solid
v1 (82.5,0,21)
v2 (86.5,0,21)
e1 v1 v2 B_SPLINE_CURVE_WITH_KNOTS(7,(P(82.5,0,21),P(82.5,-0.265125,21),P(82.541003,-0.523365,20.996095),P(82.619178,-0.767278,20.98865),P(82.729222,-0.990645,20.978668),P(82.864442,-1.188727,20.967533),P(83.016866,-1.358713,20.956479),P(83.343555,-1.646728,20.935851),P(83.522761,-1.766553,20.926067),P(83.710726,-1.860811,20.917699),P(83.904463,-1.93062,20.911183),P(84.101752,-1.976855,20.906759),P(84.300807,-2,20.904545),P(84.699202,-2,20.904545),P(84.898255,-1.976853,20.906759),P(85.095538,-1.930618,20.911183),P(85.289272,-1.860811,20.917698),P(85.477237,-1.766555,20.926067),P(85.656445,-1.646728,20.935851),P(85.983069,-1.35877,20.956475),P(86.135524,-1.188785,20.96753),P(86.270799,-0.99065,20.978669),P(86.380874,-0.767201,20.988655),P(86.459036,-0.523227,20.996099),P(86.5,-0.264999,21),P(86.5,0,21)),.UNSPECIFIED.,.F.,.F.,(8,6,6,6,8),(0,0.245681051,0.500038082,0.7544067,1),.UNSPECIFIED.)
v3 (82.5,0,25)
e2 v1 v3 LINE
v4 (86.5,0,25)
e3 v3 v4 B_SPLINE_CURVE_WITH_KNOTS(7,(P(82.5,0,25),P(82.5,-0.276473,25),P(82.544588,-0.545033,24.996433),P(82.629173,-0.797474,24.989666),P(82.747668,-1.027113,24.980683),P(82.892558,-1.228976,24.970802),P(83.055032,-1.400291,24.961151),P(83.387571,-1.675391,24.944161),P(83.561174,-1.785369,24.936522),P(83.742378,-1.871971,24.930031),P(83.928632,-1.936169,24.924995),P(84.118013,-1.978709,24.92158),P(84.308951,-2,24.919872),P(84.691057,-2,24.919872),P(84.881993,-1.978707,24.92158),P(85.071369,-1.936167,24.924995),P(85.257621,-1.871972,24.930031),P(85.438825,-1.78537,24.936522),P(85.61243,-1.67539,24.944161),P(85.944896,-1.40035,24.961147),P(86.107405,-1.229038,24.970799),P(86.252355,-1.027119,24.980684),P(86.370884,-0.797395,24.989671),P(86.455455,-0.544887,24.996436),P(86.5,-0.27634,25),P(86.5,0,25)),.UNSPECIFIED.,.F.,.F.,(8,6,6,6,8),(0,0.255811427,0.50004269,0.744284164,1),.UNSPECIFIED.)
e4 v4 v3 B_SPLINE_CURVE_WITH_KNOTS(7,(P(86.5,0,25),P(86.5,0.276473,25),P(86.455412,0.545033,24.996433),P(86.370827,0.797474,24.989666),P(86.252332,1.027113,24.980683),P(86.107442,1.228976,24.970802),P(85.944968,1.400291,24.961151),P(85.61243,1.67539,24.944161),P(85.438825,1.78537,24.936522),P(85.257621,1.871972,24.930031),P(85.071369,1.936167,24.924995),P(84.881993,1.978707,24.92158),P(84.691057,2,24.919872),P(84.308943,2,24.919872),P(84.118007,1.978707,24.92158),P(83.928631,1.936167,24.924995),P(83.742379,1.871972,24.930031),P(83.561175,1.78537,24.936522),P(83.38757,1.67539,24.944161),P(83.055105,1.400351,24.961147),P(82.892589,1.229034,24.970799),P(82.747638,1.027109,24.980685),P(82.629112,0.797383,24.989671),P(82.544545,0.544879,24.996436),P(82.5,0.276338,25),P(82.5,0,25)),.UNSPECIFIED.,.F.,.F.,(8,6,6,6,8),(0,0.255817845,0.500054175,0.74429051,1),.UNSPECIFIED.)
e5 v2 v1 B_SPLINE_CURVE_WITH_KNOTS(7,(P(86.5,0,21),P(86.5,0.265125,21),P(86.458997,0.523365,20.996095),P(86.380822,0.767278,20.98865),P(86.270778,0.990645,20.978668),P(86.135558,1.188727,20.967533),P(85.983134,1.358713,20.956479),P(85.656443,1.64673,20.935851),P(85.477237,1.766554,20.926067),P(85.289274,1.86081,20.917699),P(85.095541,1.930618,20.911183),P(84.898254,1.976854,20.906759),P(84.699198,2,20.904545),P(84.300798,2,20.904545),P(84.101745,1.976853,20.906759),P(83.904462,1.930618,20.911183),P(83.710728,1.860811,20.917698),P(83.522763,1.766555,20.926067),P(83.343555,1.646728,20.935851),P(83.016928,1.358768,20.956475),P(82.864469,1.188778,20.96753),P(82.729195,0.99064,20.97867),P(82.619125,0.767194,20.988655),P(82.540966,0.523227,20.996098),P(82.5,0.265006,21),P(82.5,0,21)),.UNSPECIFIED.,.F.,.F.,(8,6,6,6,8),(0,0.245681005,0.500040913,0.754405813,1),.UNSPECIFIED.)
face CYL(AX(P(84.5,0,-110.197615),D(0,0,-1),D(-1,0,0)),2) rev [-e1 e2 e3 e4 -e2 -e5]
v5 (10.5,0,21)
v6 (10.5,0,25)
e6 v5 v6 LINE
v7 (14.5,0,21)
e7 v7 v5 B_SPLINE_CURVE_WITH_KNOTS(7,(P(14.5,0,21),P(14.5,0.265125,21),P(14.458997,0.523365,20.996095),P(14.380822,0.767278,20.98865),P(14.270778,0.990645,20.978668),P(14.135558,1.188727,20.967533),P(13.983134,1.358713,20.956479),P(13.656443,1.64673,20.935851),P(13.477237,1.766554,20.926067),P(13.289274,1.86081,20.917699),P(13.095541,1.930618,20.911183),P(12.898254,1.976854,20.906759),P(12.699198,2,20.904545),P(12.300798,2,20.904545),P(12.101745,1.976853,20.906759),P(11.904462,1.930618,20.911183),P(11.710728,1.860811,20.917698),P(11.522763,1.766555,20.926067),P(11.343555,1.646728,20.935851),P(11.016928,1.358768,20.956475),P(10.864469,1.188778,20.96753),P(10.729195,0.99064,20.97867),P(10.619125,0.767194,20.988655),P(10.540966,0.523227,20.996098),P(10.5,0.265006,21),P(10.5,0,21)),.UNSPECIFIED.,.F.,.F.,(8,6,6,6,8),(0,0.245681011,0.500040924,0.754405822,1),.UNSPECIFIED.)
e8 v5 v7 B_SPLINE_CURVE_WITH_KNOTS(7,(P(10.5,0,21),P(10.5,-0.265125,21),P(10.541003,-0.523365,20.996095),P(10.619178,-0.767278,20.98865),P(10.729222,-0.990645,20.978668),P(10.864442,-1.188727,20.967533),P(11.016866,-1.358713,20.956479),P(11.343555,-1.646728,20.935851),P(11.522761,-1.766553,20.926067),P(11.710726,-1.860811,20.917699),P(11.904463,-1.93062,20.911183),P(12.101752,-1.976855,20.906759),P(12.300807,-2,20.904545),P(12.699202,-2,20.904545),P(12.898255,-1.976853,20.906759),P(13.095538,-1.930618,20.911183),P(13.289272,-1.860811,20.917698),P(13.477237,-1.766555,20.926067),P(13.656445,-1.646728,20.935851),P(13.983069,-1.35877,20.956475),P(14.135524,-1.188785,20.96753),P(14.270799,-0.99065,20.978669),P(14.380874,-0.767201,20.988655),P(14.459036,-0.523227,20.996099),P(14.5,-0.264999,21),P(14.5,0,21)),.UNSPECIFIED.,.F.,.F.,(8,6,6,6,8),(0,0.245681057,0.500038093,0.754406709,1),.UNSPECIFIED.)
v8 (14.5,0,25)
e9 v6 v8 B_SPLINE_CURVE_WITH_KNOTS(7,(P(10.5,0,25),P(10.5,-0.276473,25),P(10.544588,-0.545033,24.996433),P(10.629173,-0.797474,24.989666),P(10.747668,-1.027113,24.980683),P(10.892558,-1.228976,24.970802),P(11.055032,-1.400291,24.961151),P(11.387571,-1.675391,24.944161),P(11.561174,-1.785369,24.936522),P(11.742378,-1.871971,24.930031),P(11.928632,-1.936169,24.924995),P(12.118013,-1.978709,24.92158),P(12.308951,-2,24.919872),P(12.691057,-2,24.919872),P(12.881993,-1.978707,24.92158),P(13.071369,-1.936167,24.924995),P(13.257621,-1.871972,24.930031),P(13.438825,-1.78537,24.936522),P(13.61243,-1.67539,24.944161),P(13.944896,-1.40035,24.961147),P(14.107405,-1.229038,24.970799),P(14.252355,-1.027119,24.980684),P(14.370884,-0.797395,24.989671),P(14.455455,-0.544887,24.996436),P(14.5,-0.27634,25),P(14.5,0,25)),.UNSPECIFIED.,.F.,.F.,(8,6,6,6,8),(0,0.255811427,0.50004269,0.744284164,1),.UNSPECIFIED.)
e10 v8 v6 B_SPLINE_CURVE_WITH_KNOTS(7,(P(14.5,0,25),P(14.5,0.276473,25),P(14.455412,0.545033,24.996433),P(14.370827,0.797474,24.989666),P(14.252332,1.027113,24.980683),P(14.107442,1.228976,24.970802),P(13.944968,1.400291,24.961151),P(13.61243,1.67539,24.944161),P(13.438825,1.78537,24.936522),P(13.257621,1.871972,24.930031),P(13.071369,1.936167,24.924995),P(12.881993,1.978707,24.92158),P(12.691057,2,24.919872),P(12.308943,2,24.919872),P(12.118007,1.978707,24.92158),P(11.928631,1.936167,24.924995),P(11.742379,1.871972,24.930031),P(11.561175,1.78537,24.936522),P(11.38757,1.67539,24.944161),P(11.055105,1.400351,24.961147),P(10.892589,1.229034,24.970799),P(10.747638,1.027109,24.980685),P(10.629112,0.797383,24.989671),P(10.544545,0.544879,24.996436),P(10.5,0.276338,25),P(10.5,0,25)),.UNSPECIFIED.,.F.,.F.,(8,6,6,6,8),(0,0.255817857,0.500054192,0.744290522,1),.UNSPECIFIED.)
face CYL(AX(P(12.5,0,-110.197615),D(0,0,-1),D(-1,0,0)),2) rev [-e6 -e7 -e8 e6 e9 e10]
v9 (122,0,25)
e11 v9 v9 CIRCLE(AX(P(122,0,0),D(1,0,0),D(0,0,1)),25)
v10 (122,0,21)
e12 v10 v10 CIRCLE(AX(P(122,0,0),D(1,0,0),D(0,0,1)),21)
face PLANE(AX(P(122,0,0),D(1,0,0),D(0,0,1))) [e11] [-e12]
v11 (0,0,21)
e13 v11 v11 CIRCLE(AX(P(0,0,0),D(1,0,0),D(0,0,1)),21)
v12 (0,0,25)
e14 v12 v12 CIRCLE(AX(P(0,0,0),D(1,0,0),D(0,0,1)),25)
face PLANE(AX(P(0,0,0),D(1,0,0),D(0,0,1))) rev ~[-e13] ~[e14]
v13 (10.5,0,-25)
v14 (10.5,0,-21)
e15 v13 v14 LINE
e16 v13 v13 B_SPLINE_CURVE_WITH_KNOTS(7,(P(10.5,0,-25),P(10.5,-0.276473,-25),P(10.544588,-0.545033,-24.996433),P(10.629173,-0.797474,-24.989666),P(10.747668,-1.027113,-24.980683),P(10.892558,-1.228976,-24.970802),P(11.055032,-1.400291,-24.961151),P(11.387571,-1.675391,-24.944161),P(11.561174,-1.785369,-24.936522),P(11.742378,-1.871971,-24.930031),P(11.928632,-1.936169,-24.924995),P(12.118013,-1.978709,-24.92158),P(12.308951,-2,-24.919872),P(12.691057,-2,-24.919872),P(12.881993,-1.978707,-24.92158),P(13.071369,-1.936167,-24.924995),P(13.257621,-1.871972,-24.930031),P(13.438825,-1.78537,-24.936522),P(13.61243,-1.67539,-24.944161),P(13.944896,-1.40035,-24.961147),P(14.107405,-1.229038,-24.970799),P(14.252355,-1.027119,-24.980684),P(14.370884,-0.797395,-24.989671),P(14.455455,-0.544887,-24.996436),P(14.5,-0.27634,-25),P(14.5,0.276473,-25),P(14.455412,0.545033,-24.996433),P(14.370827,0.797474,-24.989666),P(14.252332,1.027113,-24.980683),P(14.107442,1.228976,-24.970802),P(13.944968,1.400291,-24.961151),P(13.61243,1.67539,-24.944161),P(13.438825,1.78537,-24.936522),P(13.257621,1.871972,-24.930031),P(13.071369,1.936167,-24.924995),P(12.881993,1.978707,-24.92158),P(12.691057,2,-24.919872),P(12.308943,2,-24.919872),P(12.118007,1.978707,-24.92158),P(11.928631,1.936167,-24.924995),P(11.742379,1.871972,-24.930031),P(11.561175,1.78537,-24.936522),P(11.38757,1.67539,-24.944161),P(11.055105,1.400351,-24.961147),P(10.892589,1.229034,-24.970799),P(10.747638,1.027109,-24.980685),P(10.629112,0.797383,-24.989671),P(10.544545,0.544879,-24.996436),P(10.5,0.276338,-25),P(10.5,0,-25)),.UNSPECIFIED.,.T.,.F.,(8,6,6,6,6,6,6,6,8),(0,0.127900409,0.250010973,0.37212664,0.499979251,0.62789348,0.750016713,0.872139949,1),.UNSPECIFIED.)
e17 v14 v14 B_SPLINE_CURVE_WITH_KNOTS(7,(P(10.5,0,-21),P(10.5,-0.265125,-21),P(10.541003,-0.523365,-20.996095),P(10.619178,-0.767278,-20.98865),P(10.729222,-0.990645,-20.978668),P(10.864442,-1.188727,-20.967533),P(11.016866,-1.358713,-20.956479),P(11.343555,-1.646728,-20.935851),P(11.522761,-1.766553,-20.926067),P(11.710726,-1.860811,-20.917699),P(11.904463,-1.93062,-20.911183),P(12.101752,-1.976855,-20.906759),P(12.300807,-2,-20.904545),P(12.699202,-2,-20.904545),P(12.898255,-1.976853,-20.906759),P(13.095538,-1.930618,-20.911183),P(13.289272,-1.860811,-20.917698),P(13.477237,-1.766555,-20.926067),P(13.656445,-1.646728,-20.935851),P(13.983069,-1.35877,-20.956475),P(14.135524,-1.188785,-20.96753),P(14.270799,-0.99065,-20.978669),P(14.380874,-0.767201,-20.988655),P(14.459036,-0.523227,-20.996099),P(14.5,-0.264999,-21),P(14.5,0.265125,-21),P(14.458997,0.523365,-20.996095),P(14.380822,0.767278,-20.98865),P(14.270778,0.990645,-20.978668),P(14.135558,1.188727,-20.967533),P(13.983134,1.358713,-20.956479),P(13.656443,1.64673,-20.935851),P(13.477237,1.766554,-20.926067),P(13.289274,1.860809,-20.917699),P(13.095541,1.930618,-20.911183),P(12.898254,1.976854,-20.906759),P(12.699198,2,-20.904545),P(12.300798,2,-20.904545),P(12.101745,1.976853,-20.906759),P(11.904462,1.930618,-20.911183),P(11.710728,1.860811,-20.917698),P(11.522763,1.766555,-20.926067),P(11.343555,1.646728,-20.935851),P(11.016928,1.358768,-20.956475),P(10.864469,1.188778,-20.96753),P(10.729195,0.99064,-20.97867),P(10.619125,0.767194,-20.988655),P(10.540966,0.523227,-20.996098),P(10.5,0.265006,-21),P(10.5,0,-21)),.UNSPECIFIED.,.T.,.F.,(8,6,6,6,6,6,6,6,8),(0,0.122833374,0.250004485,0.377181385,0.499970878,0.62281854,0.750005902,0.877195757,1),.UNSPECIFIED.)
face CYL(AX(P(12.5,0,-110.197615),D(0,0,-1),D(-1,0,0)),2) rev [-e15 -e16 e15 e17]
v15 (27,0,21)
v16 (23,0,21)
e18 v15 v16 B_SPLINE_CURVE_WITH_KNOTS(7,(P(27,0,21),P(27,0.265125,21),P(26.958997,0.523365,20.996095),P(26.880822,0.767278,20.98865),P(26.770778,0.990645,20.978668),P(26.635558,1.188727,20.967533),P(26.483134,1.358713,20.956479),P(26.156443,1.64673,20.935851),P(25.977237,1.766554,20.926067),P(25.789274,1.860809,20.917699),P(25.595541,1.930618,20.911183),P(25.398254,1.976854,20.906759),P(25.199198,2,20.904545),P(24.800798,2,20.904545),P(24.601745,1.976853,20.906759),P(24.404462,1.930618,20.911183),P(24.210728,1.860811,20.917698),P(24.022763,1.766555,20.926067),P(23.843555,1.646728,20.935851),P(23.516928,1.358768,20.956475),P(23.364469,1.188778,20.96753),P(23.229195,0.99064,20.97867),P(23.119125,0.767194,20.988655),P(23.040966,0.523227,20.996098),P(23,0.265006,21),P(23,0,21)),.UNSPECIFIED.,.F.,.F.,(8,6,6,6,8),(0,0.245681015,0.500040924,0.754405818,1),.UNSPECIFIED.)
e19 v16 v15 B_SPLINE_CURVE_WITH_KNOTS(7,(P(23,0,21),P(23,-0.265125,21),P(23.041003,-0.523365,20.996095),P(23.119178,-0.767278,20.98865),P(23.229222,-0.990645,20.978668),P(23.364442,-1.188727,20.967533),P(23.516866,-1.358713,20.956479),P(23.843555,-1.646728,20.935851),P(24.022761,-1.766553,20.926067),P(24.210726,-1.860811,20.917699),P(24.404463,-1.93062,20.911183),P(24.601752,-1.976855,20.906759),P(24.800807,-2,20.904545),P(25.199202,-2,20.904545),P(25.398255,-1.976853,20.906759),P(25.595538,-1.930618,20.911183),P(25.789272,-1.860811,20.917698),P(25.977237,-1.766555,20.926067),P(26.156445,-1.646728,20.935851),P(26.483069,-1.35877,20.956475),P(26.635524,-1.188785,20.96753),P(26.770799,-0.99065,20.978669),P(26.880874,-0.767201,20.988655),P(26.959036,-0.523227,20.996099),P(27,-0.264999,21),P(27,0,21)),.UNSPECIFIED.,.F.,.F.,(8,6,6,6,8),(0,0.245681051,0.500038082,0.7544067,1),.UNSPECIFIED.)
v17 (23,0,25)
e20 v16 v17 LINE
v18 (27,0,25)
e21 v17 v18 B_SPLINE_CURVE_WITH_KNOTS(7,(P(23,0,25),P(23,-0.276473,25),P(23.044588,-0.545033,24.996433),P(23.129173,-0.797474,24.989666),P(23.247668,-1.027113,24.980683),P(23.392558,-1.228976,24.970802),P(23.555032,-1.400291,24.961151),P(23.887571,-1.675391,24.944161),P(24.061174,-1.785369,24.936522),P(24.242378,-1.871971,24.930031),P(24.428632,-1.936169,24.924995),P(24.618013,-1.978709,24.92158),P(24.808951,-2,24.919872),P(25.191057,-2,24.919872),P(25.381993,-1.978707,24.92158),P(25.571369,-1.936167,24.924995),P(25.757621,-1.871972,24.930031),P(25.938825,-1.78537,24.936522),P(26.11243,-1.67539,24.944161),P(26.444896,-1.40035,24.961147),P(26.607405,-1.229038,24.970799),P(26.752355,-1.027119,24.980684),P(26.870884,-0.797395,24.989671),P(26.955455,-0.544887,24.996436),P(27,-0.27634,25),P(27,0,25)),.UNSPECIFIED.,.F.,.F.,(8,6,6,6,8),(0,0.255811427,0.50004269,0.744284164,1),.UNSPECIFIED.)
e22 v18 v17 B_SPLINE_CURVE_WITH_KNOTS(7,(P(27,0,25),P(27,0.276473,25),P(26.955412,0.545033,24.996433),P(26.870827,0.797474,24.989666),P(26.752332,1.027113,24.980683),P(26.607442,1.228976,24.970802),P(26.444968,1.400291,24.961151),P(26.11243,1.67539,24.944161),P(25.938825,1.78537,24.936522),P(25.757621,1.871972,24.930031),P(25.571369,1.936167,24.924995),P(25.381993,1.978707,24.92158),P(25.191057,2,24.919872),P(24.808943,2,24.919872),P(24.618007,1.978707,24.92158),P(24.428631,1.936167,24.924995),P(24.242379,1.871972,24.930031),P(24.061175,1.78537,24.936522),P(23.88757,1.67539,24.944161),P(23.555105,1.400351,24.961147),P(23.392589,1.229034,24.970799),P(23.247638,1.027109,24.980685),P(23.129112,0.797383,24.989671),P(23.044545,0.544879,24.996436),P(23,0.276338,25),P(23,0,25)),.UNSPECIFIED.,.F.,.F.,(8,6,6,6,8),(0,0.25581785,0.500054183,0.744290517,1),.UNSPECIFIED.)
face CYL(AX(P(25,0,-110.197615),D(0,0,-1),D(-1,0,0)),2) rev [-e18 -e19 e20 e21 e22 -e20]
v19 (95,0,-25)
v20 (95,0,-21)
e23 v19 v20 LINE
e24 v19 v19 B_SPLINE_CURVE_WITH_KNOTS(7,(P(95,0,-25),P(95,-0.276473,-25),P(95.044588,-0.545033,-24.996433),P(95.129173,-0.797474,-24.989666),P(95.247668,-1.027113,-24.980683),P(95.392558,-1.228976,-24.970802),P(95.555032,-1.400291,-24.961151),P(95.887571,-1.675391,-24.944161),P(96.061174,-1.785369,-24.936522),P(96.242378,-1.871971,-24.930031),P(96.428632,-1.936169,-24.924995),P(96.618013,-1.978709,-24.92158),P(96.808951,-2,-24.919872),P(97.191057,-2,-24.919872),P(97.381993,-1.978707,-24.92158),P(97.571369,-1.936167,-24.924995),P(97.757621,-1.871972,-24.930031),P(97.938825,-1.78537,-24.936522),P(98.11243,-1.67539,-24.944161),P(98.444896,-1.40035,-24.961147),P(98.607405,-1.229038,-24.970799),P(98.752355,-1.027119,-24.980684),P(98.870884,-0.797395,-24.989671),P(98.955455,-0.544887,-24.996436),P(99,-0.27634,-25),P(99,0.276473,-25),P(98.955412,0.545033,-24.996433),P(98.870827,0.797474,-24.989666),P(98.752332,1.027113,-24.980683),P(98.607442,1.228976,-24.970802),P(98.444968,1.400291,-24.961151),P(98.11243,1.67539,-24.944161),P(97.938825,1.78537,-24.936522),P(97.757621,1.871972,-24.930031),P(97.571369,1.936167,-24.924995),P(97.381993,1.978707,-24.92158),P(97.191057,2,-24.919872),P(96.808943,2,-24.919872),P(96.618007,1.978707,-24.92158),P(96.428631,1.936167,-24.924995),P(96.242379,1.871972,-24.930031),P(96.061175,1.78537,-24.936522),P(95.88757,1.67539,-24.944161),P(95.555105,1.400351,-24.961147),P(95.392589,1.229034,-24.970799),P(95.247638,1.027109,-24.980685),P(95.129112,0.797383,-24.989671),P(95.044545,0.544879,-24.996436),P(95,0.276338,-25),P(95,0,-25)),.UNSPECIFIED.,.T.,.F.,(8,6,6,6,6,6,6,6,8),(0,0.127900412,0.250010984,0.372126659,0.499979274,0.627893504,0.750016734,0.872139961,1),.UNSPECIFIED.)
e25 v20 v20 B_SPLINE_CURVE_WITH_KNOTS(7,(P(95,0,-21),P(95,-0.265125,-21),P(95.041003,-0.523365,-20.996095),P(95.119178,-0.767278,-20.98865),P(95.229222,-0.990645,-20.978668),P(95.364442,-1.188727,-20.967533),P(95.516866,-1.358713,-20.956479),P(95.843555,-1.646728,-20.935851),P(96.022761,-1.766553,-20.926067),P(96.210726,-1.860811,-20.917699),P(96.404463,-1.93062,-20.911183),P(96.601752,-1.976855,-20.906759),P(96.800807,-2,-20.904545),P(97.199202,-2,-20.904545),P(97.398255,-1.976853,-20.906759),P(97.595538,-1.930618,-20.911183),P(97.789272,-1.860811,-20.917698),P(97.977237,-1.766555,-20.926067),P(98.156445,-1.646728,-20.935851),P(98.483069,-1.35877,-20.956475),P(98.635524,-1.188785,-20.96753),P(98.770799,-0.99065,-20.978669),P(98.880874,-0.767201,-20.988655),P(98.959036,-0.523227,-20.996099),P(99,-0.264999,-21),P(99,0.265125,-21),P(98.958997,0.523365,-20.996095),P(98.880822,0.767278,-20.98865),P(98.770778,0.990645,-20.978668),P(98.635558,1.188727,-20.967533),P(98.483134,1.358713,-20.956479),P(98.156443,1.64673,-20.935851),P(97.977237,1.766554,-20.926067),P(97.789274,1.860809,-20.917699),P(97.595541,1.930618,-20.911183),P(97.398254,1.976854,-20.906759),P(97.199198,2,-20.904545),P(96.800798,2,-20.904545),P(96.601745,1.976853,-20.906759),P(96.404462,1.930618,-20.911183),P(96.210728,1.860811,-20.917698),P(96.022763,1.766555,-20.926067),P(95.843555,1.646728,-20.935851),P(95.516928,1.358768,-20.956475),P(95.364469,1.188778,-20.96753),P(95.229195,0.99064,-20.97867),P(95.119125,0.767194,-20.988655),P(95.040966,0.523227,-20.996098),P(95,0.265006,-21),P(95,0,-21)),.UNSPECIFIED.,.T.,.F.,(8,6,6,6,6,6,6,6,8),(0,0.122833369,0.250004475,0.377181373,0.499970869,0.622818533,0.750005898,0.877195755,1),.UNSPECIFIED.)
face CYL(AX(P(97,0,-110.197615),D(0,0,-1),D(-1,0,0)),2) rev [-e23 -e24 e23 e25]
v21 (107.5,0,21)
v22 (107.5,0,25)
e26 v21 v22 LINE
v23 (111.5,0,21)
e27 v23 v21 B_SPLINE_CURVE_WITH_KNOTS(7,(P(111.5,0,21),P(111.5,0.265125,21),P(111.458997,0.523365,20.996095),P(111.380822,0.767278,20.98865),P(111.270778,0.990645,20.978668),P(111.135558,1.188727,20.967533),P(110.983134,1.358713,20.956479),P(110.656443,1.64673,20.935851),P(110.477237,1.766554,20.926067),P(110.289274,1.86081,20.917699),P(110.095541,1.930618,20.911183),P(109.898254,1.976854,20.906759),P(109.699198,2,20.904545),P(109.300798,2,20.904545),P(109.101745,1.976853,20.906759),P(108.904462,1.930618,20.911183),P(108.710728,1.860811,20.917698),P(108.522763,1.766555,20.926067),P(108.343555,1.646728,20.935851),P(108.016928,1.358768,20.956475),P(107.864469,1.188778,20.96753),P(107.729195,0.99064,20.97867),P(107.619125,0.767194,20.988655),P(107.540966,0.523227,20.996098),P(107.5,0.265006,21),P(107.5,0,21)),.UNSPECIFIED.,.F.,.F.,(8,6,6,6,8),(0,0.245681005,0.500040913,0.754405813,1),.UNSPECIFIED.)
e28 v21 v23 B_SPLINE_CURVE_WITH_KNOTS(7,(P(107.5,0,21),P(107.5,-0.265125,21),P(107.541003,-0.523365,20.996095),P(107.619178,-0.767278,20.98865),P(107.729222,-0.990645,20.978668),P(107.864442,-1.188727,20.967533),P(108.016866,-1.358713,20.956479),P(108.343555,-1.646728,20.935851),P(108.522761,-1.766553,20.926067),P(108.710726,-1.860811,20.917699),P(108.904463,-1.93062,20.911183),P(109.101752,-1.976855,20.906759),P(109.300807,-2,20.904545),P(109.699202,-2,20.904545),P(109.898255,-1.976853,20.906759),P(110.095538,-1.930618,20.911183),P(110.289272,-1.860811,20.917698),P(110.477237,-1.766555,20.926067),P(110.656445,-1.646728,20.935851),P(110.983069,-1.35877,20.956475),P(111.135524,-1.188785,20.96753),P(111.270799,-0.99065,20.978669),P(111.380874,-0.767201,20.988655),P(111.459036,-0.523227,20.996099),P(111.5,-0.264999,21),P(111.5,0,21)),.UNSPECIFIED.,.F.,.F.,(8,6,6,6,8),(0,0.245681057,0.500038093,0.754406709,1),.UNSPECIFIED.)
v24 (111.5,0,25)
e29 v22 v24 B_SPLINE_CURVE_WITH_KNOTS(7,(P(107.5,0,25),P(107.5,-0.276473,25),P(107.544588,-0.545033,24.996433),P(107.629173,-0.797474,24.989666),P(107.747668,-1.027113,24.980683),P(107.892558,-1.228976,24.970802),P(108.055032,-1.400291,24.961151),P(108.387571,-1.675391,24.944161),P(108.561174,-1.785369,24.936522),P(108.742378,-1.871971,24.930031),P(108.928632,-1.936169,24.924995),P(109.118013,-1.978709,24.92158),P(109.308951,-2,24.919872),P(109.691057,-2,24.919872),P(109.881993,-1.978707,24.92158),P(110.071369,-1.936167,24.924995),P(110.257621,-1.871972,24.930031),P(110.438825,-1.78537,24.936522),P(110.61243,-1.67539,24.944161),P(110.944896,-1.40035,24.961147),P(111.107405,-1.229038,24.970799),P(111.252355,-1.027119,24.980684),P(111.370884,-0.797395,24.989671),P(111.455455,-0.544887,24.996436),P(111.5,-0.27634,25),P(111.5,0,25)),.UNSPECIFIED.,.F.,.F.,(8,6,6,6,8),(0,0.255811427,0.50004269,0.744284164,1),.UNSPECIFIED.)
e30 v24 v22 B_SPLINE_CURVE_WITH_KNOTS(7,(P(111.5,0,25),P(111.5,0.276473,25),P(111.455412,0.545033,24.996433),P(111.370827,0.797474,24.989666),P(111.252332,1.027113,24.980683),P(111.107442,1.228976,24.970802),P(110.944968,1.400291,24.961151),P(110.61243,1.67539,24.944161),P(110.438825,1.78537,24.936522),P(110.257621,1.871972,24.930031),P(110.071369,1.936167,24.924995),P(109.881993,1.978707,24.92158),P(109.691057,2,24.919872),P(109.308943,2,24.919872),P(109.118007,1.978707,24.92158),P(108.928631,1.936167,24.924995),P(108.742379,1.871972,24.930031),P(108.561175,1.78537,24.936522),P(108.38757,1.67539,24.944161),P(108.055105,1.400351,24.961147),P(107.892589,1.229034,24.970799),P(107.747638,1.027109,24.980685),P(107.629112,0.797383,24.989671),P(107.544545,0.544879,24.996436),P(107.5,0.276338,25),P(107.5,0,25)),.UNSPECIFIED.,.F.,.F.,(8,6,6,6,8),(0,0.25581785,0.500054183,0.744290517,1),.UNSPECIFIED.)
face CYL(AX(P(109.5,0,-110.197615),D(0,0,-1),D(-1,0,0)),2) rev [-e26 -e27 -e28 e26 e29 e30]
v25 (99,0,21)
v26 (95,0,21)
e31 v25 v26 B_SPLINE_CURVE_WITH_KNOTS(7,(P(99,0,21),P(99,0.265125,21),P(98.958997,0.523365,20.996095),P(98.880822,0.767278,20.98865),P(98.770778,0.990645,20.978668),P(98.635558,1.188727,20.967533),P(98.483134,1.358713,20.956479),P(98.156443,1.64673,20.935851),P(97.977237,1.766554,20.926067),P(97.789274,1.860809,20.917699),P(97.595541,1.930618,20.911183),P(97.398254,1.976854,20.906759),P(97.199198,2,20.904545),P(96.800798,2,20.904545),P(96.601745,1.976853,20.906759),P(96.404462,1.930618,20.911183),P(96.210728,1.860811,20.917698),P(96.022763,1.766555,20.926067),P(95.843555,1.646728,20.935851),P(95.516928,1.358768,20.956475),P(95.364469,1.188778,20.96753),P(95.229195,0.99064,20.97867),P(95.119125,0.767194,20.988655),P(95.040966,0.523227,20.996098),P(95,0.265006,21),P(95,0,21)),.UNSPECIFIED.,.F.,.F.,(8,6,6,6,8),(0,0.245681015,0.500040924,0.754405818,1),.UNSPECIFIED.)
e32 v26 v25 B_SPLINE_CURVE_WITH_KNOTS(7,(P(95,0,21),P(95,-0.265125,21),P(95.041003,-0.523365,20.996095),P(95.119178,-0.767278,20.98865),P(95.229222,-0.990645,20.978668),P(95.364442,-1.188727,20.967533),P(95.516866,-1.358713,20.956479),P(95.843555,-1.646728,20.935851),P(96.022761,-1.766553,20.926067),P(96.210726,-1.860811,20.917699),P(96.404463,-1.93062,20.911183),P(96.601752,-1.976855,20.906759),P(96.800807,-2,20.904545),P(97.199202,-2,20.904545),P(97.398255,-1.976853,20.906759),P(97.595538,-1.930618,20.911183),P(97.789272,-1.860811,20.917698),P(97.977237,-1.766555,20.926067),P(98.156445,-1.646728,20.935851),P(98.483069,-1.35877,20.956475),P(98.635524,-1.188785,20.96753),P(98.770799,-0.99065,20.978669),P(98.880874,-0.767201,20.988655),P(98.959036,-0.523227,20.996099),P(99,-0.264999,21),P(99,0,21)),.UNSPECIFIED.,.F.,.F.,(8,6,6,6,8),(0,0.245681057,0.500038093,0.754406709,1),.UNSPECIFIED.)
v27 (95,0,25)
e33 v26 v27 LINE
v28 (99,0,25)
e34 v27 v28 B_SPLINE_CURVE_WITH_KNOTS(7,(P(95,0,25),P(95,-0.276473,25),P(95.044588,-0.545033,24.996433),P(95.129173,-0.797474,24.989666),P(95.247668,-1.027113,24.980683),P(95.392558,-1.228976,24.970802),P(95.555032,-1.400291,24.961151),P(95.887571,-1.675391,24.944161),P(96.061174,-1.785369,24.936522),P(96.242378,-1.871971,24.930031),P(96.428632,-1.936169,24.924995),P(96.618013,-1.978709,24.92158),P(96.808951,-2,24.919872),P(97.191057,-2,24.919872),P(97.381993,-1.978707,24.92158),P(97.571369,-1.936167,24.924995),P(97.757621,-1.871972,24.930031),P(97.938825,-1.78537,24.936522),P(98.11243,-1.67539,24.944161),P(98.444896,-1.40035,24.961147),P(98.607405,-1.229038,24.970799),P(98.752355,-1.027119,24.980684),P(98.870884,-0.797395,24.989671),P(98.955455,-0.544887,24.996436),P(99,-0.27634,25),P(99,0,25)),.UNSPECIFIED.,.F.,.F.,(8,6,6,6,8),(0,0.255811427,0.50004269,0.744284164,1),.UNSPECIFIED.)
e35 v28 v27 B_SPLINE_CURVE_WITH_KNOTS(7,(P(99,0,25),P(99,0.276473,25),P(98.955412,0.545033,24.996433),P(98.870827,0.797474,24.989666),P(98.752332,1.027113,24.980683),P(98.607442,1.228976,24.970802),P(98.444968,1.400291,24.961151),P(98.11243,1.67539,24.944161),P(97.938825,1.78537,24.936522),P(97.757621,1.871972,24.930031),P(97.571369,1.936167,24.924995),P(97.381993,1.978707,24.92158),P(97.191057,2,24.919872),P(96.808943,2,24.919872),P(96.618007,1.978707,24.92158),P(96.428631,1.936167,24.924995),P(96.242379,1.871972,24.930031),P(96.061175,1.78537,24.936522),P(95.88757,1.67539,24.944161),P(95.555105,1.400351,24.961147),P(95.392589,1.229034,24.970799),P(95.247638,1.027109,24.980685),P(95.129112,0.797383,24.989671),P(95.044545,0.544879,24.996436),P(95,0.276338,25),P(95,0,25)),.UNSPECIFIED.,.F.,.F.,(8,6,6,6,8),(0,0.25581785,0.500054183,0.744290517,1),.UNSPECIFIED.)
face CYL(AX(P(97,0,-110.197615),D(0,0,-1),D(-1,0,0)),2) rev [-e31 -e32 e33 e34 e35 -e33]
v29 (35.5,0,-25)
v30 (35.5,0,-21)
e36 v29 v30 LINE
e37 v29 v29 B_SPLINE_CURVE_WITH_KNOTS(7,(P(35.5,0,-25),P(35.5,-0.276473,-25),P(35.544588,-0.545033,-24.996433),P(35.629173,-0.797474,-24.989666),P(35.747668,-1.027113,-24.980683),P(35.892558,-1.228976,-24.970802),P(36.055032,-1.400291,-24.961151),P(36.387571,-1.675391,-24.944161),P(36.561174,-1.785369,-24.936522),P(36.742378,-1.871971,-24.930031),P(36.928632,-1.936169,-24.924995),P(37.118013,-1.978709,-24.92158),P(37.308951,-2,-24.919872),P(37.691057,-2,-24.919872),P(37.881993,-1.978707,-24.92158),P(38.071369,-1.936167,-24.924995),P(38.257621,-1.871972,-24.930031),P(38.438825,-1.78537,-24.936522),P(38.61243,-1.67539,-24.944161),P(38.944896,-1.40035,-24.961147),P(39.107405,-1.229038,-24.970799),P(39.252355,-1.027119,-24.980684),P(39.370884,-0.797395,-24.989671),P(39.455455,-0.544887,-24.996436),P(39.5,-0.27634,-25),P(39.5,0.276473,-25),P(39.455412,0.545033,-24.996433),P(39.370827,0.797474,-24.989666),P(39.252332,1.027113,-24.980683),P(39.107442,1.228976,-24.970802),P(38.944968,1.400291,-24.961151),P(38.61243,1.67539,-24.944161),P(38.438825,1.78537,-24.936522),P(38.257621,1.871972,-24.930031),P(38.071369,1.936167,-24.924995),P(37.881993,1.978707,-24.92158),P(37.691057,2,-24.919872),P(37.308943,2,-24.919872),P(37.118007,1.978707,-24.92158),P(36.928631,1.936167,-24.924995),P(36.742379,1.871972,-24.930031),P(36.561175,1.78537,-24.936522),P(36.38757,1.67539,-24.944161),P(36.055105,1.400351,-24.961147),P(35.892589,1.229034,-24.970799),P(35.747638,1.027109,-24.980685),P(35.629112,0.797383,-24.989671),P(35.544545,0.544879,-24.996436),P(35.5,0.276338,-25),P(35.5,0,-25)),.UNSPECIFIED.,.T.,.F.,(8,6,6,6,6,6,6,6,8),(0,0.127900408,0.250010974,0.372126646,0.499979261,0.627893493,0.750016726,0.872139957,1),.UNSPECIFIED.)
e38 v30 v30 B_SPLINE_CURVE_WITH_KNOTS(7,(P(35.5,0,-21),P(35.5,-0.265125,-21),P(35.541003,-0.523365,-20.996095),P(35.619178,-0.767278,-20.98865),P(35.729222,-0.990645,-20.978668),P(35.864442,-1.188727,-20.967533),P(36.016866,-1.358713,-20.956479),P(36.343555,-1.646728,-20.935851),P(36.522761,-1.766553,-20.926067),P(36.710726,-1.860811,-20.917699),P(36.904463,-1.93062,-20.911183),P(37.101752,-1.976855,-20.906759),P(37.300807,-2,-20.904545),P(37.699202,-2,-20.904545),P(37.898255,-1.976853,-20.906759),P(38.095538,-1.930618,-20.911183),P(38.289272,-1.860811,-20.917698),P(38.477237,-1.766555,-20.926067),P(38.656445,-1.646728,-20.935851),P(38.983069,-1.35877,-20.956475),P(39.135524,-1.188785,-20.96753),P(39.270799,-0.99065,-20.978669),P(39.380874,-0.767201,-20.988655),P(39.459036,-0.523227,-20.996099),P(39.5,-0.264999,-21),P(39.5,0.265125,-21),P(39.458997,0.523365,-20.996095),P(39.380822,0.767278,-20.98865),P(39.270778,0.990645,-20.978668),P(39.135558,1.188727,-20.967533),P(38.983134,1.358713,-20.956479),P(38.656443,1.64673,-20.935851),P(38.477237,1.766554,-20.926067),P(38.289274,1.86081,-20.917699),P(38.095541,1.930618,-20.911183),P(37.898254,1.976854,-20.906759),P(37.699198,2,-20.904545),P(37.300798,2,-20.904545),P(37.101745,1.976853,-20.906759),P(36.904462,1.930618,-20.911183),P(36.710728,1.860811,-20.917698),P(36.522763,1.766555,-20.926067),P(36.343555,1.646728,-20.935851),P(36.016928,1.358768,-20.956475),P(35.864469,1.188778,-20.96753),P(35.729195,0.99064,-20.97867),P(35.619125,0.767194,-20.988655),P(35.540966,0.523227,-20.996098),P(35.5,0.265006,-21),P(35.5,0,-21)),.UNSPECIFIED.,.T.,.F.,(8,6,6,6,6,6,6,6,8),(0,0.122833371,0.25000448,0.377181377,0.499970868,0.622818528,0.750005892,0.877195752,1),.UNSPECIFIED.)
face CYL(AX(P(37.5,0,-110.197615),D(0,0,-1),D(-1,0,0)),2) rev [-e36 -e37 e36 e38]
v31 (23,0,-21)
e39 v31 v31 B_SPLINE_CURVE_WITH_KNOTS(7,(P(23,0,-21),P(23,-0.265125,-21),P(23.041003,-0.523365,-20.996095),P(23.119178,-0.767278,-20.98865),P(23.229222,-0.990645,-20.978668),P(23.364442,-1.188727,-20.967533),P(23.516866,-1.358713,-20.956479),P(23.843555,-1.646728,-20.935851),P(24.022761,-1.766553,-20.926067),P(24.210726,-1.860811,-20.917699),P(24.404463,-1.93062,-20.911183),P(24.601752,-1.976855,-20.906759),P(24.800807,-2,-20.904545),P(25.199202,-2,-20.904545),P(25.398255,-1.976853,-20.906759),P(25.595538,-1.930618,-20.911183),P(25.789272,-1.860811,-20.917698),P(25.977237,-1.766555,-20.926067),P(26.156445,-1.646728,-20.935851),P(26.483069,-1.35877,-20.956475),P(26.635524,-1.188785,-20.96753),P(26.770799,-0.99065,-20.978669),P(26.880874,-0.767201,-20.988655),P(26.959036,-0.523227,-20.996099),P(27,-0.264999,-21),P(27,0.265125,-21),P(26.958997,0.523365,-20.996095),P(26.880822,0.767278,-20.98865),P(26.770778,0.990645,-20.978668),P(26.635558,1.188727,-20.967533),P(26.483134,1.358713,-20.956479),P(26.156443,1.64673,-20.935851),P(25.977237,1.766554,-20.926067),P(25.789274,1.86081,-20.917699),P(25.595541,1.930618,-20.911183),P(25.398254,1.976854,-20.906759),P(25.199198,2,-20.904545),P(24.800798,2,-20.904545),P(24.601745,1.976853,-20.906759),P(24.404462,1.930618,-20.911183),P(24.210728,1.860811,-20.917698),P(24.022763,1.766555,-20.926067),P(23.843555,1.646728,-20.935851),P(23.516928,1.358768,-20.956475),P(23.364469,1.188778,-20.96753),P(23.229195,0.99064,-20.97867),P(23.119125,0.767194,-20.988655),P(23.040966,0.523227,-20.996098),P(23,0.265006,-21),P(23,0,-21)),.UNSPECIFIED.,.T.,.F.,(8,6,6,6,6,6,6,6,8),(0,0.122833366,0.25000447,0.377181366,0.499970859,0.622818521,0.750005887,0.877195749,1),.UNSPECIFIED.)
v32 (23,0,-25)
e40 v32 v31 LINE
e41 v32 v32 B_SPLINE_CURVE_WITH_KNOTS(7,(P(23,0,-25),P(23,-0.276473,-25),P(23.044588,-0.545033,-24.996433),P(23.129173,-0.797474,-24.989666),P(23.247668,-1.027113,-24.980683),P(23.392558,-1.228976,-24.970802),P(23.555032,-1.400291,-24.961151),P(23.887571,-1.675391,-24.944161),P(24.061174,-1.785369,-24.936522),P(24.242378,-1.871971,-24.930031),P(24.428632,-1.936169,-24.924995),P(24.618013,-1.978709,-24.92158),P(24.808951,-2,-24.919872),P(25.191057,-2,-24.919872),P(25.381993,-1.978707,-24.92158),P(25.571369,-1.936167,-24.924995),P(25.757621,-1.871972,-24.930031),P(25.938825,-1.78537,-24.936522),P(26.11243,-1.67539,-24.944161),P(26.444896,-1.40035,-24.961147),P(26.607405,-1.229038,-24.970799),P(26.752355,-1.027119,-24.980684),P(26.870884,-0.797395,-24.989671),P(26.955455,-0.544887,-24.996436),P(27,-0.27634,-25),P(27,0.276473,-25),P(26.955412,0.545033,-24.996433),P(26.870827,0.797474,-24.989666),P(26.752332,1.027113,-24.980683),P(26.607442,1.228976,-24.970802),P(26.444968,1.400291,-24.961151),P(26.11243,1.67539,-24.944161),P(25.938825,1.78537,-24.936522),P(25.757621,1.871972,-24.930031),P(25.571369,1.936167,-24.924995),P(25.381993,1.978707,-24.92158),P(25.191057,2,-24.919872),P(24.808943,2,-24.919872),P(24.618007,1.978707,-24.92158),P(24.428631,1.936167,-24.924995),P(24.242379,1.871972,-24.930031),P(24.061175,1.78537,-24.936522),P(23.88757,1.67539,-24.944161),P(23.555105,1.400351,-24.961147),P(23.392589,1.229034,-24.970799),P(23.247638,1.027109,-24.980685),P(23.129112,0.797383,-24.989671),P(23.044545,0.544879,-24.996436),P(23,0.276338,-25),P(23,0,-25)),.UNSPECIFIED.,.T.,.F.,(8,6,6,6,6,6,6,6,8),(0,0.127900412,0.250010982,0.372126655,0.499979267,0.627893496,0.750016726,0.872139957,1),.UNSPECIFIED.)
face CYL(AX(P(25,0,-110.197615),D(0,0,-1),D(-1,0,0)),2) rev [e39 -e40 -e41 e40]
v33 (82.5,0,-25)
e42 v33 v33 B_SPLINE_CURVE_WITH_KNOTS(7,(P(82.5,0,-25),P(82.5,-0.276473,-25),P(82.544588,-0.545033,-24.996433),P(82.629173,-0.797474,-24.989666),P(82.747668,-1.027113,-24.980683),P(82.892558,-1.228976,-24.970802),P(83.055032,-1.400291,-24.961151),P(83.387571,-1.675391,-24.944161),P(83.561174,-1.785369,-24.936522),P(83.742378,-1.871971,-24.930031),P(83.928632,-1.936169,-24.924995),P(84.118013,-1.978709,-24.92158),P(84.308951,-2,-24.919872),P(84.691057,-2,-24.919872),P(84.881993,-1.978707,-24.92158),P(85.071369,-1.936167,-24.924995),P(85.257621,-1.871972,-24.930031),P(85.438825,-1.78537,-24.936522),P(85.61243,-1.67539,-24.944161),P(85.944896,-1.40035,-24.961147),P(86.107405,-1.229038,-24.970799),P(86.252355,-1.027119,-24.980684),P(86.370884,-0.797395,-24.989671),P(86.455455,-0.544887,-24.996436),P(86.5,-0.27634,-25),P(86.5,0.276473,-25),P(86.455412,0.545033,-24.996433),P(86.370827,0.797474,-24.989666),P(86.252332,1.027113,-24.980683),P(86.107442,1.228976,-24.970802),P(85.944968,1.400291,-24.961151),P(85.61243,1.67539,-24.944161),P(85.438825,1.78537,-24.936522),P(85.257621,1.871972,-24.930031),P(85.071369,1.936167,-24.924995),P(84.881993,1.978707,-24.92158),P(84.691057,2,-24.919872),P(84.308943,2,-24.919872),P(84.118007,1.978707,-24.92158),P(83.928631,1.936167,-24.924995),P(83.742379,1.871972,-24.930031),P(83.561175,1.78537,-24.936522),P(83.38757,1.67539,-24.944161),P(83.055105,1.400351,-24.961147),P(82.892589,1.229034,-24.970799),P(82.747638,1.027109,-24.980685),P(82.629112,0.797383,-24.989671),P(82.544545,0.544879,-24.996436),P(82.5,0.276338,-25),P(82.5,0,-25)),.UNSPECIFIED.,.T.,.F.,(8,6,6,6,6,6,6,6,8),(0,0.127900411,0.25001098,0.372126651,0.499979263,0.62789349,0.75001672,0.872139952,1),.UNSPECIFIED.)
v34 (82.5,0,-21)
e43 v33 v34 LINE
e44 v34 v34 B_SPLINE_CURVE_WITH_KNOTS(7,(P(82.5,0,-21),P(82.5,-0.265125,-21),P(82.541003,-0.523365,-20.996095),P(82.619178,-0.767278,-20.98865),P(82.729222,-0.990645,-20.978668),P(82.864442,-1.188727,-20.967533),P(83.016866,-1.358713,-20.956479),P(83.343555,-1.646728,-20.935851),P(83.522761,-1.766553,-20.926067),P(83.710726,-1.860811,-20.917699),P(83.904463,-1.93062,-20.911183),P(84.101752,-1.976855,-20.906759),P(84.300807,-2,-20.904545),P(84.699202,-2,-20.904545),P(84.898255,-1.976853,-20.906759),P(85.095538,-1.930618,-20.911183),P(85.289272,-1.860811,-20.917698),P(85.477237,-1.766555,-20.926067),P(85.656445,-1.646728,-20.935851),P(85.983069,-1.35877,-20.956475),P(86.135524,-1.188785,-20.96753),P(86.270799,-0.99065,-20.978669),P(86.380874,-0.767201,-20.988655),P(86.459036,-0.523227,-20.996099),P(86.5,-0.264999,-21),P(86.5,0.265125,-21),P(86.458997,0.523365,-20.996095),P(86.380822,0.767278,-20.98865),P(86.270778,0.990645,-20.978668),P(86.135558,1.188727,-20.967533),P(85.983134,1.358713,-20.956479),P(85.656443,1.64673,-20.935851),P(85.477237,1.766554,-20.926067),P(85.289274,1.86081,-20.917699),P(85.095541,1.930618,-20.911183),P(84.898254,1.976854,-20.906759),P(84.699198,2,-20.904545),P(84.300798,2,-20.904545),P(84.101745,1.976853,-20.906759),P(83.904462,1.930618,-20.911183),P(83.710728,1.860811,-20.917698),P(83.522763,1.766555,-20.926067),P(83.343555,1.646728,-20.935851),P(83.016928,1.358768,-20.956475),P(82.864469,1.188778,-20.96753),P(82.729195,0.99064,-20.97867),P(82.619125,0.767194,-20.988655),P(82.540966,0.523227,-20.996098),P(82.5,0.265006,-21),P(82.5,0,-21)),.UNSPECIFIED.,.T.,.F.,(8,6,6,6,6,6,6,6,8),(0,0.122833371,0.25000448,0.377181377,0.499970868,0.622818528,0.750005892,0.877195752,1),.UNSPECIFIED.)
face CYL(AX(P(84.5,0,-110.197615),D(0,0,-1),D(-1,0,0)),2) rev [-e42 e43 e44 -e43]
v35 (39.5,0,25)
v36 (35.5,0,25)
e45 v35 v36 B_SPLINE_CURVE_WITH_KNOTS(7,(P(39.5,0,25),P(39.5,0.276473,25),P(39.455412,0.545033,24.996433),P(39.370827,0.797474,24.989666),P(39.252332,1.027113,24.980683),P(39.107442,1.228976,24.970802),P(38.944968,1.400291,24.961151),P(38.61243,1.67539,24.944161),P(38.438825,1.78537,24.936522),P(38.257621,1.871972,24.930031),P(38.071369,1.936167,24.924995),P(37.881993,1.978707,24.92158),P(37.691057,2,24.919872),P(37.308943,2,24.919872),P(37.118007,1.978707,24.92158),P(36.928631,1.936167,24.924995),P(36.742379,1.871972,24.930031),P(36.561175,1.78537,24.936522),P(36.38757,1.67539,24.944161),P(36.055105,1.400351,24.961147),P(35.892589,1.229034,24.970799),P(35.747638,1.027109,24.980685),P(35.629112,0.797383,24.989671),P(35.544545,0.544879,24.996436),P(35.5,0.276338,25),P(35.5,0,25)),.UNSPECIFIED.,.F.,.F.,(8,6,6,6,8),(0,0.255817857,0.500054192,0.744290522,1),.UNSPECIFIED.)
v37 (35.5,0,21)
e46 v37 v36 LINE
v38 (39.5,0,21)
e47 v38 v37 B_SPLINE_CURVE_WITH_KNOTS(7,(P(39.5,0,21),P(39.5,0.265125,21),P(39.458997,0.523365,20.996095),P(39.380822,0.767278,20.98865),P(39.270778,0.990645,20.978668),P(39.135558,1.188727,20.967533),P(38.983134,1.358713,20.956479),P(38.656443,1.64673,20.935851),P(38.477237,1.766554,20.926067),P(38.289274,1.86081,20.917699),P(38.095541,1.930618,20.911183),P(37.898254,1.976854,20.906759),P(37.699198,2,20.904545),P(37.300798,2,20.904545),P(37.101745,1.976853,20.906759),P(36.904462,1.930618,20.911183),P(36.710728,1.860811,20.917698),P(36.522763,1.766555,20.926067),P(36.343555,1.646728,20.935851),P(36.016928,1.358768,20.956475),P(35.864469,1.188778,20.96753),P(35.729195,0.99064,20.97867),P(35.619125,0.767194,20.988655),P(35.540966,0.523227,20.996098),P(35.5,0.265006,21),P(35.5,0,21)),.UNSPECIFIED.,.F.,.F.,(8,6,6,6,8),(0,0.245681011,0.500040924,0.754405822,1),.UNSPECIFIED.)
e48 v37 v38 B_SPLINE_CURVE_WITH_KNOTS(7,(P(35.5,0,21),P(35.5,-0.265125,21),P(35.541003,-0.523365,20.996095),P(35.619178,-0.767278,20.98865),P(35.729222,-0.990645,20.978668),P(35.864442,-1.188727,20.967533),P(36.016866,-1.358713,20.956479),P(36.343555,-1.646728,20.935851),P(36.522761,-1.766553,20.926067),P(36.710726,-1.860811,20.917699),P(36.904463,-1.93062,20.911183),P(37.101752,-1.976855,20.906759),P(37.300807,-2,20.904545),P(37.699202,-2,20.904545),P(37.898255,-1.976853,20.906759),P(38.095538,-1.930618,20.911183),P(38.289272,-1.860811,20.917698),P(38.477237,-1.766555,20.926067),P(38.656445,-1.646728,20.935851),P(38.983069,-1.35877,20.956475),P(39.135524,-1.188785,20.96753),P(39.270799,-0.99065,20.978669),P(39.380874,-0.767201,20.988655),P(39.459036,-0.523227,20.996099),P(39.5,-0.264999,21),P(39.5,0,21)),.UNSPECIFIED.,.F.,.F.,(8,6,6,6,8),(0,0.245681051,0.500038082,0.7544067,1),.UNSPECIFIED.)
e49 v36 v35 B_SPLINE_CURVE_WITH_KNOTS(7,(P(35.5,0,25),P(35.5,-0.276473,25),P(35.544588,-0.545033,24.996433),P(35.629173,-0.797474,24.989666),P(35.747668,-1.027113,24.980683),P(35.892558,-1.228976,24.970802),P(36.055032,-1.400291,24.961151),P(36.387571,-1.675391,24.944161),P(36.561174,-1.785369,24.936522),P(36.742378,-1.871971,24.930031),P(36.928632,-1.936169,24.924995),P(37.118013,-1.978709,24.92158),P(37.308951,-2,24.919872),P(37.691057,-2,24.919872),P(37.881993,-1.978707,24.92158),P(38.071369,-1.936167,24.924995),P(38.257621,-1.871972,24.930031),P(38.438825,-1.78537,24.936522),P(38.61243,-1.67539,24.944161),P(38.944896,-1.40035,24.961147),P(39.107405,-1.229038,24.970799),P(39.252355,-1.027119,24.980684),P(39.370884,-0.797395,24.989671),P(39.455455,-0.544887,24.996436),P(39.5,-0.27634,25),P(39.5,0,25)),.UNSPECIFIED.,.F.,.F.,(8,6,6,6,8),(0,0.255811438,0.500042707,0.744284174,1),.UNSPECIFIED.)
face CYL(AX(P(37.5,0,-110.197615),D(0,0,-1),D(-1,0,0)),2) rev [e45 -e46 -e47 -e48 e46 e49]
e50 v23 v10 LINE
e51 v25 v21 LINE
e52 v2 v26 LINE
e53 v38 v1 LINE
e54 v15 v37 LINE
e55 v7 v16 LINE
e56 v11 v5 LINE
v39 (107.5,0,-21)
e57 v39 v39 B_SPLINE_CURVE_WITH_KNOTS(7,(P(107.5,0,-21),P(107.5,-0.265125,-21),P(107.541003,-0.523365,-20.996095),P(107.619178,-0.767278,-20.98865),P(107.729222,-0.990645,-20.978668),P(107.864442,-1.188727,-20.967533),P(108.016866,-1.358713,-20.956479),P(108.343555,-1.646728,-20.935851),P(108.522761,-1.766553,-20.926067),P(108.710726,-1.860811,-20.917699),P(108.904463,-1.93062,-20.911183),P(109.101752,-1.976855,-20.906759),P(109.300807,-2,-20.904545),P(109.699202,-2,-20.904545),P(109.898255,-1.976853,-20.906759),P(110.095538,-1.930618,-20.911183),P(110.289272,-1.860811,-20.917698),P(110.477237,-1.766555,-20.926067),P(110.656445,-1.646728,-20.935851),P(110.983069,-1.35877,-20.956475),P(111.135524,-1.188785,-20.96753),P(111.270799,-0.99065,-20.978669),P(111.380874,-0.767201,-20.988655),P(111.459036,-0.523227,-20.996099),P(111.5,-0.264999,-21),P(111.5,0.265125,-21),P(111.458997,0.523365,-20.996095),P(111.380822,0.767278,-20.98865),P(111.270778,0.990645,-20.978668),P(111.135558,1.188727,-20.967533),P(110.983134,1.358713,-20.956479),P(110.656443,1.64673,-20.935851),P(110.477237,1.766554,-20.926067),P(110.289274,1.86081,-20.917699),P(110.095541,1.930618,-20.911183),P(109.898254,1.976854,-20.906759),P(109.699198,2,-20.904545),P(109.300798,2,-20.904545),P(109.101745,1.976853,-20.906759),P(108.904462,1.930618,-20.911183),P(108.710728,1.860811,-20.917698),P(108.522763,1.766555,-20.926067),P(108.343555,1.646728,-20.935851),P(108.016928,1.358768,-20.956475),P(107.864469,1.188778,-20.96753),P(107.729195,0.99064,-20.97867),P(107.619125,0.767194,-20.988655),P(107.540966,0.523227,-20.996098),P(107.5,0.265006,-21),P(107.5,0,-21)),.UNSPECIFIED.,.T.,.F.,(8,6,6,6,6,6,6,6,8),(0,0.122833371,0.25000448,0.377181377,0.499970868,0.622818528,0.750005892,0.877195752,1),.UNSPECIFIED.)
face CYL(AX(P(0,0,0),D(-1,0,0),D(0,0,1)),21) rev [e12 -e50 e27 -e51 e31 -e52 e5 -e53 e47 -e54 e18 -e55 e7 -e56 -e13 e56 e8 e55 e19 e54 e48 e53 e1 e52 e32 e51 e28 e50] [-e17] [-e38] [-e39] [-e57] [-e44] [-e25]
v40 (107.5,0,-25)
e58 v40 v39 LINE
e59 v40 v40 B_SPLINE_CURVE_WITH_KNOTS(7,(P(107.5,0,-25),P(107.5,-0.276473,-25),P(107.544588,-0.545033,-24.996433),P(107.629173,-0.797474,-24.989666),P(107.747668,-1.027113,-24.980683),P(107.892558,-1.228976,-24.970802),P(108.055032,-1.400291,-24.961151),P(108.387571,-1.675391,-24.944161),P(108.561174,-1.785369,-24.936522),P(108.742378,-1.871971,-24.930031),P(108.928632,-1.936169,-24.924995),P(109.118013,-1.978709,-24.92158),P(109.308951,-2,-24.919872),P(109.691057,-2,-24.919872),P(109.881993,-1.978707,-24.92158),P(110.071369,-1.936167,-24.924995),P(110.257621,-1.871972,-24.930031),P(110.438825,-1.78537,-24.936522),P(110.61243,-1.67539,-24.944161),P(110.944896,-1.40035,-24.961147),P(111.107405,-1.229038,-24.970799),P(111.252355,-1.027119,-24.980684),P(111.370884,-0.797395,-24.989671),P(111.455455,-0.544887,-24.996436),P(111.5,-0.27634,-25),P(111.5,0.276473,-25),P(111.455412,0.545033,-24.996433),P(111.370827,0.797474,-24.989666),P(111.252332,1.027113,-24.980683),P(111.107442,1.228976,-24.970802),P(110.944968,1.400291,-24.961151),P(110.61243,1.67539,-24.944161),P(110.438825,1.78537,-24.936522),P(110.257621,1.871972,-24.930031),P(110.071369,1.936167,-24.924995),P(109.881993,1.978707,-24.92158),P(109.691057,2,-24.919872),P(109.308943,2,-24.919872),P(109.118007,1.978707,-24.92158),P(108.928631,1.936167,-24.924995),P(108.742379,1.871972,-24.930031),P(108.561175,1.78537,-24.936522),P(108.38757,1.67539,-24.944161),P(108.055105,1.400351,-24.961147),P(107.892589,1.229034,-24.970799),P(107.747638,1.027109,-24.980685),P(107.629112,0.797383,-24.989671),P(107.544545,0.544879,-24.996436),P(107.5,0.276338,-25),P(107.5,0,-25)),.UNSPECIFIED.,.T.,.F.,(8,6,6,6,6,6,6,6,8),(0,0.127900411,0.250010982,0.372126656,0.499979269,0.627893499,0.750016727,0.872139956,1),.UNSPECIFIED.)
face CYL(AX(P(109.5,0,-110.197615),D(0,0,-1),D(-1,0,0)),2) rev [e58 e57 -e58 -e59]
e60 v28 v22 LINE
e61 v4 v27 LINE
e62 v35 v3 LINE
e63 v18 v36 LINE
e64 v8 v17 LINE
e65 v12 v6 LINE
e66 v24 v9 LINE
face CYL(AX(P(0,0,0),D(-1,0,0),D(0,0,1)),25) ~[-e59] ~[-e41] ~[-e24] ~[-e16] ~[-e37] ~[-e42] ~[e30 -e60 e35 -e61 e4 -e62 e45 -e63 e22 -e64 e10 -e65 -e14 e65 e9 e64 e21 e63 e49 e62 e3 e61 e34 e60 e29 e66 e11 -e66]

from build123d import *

# Parameters (mm, degrees)
SKETCH_2_R               = 25
SKETCH_2_R_2             = 21
EXTRUDE_2_DEPTH          = 122
CUT_EXTRUDE_2_DEPTH      = 10
CUT_EXTRUDE_2_DEPTH_BACK = 135.197615478
SKETCH_4_R               = 2


with BuildPart() as part:
    # Эскиз2 → Бобышка-Вытянуть2 (new body)
    with BuildSketch(Plane(origin=(0, 0, 0), x_dir=(0, 0, -1), z_dir=(1, 0, 0))):
        Circle(SKETCH_2_R)
        Circle(SKETCH_2_R_2, mode=Mode.SUBTRACT)
    extrude(amount=EXTRUDE_2_DEPTH)

    # Эскиз4 → Вырез-Вытянуть2 (cut, two sides: drawn at the far end of the back side and taken through both)
    with BuildSketch(Plane.XY.offset(25).offset(-CUT_EXTRUDE_2_DEPTH_BACK)):
        with Locations((12.5, 0)):
            Circle(SKETCH_4_R)
        with Locations((109.5, 0)):
            Circle(SKETCH_4_R)
        with Locations((25, 0)):
            Circle(SKETCH_4_R)
        with Locations((37.5, 0)):
            Circle(SKETCH_4_R)
        with Locations((97, 0)):
            Circle(SKETCH_4_R)
        with Locations((84.5, 0)):
            Circle(SKETCH_4_R)
    extrude(amount=CUT_EXTRUDE_2_DEPTH + CUT_EXTRUDE_2_DEPTH_BACK, mode=Mode.SUBTRACT)


solid = part.part
